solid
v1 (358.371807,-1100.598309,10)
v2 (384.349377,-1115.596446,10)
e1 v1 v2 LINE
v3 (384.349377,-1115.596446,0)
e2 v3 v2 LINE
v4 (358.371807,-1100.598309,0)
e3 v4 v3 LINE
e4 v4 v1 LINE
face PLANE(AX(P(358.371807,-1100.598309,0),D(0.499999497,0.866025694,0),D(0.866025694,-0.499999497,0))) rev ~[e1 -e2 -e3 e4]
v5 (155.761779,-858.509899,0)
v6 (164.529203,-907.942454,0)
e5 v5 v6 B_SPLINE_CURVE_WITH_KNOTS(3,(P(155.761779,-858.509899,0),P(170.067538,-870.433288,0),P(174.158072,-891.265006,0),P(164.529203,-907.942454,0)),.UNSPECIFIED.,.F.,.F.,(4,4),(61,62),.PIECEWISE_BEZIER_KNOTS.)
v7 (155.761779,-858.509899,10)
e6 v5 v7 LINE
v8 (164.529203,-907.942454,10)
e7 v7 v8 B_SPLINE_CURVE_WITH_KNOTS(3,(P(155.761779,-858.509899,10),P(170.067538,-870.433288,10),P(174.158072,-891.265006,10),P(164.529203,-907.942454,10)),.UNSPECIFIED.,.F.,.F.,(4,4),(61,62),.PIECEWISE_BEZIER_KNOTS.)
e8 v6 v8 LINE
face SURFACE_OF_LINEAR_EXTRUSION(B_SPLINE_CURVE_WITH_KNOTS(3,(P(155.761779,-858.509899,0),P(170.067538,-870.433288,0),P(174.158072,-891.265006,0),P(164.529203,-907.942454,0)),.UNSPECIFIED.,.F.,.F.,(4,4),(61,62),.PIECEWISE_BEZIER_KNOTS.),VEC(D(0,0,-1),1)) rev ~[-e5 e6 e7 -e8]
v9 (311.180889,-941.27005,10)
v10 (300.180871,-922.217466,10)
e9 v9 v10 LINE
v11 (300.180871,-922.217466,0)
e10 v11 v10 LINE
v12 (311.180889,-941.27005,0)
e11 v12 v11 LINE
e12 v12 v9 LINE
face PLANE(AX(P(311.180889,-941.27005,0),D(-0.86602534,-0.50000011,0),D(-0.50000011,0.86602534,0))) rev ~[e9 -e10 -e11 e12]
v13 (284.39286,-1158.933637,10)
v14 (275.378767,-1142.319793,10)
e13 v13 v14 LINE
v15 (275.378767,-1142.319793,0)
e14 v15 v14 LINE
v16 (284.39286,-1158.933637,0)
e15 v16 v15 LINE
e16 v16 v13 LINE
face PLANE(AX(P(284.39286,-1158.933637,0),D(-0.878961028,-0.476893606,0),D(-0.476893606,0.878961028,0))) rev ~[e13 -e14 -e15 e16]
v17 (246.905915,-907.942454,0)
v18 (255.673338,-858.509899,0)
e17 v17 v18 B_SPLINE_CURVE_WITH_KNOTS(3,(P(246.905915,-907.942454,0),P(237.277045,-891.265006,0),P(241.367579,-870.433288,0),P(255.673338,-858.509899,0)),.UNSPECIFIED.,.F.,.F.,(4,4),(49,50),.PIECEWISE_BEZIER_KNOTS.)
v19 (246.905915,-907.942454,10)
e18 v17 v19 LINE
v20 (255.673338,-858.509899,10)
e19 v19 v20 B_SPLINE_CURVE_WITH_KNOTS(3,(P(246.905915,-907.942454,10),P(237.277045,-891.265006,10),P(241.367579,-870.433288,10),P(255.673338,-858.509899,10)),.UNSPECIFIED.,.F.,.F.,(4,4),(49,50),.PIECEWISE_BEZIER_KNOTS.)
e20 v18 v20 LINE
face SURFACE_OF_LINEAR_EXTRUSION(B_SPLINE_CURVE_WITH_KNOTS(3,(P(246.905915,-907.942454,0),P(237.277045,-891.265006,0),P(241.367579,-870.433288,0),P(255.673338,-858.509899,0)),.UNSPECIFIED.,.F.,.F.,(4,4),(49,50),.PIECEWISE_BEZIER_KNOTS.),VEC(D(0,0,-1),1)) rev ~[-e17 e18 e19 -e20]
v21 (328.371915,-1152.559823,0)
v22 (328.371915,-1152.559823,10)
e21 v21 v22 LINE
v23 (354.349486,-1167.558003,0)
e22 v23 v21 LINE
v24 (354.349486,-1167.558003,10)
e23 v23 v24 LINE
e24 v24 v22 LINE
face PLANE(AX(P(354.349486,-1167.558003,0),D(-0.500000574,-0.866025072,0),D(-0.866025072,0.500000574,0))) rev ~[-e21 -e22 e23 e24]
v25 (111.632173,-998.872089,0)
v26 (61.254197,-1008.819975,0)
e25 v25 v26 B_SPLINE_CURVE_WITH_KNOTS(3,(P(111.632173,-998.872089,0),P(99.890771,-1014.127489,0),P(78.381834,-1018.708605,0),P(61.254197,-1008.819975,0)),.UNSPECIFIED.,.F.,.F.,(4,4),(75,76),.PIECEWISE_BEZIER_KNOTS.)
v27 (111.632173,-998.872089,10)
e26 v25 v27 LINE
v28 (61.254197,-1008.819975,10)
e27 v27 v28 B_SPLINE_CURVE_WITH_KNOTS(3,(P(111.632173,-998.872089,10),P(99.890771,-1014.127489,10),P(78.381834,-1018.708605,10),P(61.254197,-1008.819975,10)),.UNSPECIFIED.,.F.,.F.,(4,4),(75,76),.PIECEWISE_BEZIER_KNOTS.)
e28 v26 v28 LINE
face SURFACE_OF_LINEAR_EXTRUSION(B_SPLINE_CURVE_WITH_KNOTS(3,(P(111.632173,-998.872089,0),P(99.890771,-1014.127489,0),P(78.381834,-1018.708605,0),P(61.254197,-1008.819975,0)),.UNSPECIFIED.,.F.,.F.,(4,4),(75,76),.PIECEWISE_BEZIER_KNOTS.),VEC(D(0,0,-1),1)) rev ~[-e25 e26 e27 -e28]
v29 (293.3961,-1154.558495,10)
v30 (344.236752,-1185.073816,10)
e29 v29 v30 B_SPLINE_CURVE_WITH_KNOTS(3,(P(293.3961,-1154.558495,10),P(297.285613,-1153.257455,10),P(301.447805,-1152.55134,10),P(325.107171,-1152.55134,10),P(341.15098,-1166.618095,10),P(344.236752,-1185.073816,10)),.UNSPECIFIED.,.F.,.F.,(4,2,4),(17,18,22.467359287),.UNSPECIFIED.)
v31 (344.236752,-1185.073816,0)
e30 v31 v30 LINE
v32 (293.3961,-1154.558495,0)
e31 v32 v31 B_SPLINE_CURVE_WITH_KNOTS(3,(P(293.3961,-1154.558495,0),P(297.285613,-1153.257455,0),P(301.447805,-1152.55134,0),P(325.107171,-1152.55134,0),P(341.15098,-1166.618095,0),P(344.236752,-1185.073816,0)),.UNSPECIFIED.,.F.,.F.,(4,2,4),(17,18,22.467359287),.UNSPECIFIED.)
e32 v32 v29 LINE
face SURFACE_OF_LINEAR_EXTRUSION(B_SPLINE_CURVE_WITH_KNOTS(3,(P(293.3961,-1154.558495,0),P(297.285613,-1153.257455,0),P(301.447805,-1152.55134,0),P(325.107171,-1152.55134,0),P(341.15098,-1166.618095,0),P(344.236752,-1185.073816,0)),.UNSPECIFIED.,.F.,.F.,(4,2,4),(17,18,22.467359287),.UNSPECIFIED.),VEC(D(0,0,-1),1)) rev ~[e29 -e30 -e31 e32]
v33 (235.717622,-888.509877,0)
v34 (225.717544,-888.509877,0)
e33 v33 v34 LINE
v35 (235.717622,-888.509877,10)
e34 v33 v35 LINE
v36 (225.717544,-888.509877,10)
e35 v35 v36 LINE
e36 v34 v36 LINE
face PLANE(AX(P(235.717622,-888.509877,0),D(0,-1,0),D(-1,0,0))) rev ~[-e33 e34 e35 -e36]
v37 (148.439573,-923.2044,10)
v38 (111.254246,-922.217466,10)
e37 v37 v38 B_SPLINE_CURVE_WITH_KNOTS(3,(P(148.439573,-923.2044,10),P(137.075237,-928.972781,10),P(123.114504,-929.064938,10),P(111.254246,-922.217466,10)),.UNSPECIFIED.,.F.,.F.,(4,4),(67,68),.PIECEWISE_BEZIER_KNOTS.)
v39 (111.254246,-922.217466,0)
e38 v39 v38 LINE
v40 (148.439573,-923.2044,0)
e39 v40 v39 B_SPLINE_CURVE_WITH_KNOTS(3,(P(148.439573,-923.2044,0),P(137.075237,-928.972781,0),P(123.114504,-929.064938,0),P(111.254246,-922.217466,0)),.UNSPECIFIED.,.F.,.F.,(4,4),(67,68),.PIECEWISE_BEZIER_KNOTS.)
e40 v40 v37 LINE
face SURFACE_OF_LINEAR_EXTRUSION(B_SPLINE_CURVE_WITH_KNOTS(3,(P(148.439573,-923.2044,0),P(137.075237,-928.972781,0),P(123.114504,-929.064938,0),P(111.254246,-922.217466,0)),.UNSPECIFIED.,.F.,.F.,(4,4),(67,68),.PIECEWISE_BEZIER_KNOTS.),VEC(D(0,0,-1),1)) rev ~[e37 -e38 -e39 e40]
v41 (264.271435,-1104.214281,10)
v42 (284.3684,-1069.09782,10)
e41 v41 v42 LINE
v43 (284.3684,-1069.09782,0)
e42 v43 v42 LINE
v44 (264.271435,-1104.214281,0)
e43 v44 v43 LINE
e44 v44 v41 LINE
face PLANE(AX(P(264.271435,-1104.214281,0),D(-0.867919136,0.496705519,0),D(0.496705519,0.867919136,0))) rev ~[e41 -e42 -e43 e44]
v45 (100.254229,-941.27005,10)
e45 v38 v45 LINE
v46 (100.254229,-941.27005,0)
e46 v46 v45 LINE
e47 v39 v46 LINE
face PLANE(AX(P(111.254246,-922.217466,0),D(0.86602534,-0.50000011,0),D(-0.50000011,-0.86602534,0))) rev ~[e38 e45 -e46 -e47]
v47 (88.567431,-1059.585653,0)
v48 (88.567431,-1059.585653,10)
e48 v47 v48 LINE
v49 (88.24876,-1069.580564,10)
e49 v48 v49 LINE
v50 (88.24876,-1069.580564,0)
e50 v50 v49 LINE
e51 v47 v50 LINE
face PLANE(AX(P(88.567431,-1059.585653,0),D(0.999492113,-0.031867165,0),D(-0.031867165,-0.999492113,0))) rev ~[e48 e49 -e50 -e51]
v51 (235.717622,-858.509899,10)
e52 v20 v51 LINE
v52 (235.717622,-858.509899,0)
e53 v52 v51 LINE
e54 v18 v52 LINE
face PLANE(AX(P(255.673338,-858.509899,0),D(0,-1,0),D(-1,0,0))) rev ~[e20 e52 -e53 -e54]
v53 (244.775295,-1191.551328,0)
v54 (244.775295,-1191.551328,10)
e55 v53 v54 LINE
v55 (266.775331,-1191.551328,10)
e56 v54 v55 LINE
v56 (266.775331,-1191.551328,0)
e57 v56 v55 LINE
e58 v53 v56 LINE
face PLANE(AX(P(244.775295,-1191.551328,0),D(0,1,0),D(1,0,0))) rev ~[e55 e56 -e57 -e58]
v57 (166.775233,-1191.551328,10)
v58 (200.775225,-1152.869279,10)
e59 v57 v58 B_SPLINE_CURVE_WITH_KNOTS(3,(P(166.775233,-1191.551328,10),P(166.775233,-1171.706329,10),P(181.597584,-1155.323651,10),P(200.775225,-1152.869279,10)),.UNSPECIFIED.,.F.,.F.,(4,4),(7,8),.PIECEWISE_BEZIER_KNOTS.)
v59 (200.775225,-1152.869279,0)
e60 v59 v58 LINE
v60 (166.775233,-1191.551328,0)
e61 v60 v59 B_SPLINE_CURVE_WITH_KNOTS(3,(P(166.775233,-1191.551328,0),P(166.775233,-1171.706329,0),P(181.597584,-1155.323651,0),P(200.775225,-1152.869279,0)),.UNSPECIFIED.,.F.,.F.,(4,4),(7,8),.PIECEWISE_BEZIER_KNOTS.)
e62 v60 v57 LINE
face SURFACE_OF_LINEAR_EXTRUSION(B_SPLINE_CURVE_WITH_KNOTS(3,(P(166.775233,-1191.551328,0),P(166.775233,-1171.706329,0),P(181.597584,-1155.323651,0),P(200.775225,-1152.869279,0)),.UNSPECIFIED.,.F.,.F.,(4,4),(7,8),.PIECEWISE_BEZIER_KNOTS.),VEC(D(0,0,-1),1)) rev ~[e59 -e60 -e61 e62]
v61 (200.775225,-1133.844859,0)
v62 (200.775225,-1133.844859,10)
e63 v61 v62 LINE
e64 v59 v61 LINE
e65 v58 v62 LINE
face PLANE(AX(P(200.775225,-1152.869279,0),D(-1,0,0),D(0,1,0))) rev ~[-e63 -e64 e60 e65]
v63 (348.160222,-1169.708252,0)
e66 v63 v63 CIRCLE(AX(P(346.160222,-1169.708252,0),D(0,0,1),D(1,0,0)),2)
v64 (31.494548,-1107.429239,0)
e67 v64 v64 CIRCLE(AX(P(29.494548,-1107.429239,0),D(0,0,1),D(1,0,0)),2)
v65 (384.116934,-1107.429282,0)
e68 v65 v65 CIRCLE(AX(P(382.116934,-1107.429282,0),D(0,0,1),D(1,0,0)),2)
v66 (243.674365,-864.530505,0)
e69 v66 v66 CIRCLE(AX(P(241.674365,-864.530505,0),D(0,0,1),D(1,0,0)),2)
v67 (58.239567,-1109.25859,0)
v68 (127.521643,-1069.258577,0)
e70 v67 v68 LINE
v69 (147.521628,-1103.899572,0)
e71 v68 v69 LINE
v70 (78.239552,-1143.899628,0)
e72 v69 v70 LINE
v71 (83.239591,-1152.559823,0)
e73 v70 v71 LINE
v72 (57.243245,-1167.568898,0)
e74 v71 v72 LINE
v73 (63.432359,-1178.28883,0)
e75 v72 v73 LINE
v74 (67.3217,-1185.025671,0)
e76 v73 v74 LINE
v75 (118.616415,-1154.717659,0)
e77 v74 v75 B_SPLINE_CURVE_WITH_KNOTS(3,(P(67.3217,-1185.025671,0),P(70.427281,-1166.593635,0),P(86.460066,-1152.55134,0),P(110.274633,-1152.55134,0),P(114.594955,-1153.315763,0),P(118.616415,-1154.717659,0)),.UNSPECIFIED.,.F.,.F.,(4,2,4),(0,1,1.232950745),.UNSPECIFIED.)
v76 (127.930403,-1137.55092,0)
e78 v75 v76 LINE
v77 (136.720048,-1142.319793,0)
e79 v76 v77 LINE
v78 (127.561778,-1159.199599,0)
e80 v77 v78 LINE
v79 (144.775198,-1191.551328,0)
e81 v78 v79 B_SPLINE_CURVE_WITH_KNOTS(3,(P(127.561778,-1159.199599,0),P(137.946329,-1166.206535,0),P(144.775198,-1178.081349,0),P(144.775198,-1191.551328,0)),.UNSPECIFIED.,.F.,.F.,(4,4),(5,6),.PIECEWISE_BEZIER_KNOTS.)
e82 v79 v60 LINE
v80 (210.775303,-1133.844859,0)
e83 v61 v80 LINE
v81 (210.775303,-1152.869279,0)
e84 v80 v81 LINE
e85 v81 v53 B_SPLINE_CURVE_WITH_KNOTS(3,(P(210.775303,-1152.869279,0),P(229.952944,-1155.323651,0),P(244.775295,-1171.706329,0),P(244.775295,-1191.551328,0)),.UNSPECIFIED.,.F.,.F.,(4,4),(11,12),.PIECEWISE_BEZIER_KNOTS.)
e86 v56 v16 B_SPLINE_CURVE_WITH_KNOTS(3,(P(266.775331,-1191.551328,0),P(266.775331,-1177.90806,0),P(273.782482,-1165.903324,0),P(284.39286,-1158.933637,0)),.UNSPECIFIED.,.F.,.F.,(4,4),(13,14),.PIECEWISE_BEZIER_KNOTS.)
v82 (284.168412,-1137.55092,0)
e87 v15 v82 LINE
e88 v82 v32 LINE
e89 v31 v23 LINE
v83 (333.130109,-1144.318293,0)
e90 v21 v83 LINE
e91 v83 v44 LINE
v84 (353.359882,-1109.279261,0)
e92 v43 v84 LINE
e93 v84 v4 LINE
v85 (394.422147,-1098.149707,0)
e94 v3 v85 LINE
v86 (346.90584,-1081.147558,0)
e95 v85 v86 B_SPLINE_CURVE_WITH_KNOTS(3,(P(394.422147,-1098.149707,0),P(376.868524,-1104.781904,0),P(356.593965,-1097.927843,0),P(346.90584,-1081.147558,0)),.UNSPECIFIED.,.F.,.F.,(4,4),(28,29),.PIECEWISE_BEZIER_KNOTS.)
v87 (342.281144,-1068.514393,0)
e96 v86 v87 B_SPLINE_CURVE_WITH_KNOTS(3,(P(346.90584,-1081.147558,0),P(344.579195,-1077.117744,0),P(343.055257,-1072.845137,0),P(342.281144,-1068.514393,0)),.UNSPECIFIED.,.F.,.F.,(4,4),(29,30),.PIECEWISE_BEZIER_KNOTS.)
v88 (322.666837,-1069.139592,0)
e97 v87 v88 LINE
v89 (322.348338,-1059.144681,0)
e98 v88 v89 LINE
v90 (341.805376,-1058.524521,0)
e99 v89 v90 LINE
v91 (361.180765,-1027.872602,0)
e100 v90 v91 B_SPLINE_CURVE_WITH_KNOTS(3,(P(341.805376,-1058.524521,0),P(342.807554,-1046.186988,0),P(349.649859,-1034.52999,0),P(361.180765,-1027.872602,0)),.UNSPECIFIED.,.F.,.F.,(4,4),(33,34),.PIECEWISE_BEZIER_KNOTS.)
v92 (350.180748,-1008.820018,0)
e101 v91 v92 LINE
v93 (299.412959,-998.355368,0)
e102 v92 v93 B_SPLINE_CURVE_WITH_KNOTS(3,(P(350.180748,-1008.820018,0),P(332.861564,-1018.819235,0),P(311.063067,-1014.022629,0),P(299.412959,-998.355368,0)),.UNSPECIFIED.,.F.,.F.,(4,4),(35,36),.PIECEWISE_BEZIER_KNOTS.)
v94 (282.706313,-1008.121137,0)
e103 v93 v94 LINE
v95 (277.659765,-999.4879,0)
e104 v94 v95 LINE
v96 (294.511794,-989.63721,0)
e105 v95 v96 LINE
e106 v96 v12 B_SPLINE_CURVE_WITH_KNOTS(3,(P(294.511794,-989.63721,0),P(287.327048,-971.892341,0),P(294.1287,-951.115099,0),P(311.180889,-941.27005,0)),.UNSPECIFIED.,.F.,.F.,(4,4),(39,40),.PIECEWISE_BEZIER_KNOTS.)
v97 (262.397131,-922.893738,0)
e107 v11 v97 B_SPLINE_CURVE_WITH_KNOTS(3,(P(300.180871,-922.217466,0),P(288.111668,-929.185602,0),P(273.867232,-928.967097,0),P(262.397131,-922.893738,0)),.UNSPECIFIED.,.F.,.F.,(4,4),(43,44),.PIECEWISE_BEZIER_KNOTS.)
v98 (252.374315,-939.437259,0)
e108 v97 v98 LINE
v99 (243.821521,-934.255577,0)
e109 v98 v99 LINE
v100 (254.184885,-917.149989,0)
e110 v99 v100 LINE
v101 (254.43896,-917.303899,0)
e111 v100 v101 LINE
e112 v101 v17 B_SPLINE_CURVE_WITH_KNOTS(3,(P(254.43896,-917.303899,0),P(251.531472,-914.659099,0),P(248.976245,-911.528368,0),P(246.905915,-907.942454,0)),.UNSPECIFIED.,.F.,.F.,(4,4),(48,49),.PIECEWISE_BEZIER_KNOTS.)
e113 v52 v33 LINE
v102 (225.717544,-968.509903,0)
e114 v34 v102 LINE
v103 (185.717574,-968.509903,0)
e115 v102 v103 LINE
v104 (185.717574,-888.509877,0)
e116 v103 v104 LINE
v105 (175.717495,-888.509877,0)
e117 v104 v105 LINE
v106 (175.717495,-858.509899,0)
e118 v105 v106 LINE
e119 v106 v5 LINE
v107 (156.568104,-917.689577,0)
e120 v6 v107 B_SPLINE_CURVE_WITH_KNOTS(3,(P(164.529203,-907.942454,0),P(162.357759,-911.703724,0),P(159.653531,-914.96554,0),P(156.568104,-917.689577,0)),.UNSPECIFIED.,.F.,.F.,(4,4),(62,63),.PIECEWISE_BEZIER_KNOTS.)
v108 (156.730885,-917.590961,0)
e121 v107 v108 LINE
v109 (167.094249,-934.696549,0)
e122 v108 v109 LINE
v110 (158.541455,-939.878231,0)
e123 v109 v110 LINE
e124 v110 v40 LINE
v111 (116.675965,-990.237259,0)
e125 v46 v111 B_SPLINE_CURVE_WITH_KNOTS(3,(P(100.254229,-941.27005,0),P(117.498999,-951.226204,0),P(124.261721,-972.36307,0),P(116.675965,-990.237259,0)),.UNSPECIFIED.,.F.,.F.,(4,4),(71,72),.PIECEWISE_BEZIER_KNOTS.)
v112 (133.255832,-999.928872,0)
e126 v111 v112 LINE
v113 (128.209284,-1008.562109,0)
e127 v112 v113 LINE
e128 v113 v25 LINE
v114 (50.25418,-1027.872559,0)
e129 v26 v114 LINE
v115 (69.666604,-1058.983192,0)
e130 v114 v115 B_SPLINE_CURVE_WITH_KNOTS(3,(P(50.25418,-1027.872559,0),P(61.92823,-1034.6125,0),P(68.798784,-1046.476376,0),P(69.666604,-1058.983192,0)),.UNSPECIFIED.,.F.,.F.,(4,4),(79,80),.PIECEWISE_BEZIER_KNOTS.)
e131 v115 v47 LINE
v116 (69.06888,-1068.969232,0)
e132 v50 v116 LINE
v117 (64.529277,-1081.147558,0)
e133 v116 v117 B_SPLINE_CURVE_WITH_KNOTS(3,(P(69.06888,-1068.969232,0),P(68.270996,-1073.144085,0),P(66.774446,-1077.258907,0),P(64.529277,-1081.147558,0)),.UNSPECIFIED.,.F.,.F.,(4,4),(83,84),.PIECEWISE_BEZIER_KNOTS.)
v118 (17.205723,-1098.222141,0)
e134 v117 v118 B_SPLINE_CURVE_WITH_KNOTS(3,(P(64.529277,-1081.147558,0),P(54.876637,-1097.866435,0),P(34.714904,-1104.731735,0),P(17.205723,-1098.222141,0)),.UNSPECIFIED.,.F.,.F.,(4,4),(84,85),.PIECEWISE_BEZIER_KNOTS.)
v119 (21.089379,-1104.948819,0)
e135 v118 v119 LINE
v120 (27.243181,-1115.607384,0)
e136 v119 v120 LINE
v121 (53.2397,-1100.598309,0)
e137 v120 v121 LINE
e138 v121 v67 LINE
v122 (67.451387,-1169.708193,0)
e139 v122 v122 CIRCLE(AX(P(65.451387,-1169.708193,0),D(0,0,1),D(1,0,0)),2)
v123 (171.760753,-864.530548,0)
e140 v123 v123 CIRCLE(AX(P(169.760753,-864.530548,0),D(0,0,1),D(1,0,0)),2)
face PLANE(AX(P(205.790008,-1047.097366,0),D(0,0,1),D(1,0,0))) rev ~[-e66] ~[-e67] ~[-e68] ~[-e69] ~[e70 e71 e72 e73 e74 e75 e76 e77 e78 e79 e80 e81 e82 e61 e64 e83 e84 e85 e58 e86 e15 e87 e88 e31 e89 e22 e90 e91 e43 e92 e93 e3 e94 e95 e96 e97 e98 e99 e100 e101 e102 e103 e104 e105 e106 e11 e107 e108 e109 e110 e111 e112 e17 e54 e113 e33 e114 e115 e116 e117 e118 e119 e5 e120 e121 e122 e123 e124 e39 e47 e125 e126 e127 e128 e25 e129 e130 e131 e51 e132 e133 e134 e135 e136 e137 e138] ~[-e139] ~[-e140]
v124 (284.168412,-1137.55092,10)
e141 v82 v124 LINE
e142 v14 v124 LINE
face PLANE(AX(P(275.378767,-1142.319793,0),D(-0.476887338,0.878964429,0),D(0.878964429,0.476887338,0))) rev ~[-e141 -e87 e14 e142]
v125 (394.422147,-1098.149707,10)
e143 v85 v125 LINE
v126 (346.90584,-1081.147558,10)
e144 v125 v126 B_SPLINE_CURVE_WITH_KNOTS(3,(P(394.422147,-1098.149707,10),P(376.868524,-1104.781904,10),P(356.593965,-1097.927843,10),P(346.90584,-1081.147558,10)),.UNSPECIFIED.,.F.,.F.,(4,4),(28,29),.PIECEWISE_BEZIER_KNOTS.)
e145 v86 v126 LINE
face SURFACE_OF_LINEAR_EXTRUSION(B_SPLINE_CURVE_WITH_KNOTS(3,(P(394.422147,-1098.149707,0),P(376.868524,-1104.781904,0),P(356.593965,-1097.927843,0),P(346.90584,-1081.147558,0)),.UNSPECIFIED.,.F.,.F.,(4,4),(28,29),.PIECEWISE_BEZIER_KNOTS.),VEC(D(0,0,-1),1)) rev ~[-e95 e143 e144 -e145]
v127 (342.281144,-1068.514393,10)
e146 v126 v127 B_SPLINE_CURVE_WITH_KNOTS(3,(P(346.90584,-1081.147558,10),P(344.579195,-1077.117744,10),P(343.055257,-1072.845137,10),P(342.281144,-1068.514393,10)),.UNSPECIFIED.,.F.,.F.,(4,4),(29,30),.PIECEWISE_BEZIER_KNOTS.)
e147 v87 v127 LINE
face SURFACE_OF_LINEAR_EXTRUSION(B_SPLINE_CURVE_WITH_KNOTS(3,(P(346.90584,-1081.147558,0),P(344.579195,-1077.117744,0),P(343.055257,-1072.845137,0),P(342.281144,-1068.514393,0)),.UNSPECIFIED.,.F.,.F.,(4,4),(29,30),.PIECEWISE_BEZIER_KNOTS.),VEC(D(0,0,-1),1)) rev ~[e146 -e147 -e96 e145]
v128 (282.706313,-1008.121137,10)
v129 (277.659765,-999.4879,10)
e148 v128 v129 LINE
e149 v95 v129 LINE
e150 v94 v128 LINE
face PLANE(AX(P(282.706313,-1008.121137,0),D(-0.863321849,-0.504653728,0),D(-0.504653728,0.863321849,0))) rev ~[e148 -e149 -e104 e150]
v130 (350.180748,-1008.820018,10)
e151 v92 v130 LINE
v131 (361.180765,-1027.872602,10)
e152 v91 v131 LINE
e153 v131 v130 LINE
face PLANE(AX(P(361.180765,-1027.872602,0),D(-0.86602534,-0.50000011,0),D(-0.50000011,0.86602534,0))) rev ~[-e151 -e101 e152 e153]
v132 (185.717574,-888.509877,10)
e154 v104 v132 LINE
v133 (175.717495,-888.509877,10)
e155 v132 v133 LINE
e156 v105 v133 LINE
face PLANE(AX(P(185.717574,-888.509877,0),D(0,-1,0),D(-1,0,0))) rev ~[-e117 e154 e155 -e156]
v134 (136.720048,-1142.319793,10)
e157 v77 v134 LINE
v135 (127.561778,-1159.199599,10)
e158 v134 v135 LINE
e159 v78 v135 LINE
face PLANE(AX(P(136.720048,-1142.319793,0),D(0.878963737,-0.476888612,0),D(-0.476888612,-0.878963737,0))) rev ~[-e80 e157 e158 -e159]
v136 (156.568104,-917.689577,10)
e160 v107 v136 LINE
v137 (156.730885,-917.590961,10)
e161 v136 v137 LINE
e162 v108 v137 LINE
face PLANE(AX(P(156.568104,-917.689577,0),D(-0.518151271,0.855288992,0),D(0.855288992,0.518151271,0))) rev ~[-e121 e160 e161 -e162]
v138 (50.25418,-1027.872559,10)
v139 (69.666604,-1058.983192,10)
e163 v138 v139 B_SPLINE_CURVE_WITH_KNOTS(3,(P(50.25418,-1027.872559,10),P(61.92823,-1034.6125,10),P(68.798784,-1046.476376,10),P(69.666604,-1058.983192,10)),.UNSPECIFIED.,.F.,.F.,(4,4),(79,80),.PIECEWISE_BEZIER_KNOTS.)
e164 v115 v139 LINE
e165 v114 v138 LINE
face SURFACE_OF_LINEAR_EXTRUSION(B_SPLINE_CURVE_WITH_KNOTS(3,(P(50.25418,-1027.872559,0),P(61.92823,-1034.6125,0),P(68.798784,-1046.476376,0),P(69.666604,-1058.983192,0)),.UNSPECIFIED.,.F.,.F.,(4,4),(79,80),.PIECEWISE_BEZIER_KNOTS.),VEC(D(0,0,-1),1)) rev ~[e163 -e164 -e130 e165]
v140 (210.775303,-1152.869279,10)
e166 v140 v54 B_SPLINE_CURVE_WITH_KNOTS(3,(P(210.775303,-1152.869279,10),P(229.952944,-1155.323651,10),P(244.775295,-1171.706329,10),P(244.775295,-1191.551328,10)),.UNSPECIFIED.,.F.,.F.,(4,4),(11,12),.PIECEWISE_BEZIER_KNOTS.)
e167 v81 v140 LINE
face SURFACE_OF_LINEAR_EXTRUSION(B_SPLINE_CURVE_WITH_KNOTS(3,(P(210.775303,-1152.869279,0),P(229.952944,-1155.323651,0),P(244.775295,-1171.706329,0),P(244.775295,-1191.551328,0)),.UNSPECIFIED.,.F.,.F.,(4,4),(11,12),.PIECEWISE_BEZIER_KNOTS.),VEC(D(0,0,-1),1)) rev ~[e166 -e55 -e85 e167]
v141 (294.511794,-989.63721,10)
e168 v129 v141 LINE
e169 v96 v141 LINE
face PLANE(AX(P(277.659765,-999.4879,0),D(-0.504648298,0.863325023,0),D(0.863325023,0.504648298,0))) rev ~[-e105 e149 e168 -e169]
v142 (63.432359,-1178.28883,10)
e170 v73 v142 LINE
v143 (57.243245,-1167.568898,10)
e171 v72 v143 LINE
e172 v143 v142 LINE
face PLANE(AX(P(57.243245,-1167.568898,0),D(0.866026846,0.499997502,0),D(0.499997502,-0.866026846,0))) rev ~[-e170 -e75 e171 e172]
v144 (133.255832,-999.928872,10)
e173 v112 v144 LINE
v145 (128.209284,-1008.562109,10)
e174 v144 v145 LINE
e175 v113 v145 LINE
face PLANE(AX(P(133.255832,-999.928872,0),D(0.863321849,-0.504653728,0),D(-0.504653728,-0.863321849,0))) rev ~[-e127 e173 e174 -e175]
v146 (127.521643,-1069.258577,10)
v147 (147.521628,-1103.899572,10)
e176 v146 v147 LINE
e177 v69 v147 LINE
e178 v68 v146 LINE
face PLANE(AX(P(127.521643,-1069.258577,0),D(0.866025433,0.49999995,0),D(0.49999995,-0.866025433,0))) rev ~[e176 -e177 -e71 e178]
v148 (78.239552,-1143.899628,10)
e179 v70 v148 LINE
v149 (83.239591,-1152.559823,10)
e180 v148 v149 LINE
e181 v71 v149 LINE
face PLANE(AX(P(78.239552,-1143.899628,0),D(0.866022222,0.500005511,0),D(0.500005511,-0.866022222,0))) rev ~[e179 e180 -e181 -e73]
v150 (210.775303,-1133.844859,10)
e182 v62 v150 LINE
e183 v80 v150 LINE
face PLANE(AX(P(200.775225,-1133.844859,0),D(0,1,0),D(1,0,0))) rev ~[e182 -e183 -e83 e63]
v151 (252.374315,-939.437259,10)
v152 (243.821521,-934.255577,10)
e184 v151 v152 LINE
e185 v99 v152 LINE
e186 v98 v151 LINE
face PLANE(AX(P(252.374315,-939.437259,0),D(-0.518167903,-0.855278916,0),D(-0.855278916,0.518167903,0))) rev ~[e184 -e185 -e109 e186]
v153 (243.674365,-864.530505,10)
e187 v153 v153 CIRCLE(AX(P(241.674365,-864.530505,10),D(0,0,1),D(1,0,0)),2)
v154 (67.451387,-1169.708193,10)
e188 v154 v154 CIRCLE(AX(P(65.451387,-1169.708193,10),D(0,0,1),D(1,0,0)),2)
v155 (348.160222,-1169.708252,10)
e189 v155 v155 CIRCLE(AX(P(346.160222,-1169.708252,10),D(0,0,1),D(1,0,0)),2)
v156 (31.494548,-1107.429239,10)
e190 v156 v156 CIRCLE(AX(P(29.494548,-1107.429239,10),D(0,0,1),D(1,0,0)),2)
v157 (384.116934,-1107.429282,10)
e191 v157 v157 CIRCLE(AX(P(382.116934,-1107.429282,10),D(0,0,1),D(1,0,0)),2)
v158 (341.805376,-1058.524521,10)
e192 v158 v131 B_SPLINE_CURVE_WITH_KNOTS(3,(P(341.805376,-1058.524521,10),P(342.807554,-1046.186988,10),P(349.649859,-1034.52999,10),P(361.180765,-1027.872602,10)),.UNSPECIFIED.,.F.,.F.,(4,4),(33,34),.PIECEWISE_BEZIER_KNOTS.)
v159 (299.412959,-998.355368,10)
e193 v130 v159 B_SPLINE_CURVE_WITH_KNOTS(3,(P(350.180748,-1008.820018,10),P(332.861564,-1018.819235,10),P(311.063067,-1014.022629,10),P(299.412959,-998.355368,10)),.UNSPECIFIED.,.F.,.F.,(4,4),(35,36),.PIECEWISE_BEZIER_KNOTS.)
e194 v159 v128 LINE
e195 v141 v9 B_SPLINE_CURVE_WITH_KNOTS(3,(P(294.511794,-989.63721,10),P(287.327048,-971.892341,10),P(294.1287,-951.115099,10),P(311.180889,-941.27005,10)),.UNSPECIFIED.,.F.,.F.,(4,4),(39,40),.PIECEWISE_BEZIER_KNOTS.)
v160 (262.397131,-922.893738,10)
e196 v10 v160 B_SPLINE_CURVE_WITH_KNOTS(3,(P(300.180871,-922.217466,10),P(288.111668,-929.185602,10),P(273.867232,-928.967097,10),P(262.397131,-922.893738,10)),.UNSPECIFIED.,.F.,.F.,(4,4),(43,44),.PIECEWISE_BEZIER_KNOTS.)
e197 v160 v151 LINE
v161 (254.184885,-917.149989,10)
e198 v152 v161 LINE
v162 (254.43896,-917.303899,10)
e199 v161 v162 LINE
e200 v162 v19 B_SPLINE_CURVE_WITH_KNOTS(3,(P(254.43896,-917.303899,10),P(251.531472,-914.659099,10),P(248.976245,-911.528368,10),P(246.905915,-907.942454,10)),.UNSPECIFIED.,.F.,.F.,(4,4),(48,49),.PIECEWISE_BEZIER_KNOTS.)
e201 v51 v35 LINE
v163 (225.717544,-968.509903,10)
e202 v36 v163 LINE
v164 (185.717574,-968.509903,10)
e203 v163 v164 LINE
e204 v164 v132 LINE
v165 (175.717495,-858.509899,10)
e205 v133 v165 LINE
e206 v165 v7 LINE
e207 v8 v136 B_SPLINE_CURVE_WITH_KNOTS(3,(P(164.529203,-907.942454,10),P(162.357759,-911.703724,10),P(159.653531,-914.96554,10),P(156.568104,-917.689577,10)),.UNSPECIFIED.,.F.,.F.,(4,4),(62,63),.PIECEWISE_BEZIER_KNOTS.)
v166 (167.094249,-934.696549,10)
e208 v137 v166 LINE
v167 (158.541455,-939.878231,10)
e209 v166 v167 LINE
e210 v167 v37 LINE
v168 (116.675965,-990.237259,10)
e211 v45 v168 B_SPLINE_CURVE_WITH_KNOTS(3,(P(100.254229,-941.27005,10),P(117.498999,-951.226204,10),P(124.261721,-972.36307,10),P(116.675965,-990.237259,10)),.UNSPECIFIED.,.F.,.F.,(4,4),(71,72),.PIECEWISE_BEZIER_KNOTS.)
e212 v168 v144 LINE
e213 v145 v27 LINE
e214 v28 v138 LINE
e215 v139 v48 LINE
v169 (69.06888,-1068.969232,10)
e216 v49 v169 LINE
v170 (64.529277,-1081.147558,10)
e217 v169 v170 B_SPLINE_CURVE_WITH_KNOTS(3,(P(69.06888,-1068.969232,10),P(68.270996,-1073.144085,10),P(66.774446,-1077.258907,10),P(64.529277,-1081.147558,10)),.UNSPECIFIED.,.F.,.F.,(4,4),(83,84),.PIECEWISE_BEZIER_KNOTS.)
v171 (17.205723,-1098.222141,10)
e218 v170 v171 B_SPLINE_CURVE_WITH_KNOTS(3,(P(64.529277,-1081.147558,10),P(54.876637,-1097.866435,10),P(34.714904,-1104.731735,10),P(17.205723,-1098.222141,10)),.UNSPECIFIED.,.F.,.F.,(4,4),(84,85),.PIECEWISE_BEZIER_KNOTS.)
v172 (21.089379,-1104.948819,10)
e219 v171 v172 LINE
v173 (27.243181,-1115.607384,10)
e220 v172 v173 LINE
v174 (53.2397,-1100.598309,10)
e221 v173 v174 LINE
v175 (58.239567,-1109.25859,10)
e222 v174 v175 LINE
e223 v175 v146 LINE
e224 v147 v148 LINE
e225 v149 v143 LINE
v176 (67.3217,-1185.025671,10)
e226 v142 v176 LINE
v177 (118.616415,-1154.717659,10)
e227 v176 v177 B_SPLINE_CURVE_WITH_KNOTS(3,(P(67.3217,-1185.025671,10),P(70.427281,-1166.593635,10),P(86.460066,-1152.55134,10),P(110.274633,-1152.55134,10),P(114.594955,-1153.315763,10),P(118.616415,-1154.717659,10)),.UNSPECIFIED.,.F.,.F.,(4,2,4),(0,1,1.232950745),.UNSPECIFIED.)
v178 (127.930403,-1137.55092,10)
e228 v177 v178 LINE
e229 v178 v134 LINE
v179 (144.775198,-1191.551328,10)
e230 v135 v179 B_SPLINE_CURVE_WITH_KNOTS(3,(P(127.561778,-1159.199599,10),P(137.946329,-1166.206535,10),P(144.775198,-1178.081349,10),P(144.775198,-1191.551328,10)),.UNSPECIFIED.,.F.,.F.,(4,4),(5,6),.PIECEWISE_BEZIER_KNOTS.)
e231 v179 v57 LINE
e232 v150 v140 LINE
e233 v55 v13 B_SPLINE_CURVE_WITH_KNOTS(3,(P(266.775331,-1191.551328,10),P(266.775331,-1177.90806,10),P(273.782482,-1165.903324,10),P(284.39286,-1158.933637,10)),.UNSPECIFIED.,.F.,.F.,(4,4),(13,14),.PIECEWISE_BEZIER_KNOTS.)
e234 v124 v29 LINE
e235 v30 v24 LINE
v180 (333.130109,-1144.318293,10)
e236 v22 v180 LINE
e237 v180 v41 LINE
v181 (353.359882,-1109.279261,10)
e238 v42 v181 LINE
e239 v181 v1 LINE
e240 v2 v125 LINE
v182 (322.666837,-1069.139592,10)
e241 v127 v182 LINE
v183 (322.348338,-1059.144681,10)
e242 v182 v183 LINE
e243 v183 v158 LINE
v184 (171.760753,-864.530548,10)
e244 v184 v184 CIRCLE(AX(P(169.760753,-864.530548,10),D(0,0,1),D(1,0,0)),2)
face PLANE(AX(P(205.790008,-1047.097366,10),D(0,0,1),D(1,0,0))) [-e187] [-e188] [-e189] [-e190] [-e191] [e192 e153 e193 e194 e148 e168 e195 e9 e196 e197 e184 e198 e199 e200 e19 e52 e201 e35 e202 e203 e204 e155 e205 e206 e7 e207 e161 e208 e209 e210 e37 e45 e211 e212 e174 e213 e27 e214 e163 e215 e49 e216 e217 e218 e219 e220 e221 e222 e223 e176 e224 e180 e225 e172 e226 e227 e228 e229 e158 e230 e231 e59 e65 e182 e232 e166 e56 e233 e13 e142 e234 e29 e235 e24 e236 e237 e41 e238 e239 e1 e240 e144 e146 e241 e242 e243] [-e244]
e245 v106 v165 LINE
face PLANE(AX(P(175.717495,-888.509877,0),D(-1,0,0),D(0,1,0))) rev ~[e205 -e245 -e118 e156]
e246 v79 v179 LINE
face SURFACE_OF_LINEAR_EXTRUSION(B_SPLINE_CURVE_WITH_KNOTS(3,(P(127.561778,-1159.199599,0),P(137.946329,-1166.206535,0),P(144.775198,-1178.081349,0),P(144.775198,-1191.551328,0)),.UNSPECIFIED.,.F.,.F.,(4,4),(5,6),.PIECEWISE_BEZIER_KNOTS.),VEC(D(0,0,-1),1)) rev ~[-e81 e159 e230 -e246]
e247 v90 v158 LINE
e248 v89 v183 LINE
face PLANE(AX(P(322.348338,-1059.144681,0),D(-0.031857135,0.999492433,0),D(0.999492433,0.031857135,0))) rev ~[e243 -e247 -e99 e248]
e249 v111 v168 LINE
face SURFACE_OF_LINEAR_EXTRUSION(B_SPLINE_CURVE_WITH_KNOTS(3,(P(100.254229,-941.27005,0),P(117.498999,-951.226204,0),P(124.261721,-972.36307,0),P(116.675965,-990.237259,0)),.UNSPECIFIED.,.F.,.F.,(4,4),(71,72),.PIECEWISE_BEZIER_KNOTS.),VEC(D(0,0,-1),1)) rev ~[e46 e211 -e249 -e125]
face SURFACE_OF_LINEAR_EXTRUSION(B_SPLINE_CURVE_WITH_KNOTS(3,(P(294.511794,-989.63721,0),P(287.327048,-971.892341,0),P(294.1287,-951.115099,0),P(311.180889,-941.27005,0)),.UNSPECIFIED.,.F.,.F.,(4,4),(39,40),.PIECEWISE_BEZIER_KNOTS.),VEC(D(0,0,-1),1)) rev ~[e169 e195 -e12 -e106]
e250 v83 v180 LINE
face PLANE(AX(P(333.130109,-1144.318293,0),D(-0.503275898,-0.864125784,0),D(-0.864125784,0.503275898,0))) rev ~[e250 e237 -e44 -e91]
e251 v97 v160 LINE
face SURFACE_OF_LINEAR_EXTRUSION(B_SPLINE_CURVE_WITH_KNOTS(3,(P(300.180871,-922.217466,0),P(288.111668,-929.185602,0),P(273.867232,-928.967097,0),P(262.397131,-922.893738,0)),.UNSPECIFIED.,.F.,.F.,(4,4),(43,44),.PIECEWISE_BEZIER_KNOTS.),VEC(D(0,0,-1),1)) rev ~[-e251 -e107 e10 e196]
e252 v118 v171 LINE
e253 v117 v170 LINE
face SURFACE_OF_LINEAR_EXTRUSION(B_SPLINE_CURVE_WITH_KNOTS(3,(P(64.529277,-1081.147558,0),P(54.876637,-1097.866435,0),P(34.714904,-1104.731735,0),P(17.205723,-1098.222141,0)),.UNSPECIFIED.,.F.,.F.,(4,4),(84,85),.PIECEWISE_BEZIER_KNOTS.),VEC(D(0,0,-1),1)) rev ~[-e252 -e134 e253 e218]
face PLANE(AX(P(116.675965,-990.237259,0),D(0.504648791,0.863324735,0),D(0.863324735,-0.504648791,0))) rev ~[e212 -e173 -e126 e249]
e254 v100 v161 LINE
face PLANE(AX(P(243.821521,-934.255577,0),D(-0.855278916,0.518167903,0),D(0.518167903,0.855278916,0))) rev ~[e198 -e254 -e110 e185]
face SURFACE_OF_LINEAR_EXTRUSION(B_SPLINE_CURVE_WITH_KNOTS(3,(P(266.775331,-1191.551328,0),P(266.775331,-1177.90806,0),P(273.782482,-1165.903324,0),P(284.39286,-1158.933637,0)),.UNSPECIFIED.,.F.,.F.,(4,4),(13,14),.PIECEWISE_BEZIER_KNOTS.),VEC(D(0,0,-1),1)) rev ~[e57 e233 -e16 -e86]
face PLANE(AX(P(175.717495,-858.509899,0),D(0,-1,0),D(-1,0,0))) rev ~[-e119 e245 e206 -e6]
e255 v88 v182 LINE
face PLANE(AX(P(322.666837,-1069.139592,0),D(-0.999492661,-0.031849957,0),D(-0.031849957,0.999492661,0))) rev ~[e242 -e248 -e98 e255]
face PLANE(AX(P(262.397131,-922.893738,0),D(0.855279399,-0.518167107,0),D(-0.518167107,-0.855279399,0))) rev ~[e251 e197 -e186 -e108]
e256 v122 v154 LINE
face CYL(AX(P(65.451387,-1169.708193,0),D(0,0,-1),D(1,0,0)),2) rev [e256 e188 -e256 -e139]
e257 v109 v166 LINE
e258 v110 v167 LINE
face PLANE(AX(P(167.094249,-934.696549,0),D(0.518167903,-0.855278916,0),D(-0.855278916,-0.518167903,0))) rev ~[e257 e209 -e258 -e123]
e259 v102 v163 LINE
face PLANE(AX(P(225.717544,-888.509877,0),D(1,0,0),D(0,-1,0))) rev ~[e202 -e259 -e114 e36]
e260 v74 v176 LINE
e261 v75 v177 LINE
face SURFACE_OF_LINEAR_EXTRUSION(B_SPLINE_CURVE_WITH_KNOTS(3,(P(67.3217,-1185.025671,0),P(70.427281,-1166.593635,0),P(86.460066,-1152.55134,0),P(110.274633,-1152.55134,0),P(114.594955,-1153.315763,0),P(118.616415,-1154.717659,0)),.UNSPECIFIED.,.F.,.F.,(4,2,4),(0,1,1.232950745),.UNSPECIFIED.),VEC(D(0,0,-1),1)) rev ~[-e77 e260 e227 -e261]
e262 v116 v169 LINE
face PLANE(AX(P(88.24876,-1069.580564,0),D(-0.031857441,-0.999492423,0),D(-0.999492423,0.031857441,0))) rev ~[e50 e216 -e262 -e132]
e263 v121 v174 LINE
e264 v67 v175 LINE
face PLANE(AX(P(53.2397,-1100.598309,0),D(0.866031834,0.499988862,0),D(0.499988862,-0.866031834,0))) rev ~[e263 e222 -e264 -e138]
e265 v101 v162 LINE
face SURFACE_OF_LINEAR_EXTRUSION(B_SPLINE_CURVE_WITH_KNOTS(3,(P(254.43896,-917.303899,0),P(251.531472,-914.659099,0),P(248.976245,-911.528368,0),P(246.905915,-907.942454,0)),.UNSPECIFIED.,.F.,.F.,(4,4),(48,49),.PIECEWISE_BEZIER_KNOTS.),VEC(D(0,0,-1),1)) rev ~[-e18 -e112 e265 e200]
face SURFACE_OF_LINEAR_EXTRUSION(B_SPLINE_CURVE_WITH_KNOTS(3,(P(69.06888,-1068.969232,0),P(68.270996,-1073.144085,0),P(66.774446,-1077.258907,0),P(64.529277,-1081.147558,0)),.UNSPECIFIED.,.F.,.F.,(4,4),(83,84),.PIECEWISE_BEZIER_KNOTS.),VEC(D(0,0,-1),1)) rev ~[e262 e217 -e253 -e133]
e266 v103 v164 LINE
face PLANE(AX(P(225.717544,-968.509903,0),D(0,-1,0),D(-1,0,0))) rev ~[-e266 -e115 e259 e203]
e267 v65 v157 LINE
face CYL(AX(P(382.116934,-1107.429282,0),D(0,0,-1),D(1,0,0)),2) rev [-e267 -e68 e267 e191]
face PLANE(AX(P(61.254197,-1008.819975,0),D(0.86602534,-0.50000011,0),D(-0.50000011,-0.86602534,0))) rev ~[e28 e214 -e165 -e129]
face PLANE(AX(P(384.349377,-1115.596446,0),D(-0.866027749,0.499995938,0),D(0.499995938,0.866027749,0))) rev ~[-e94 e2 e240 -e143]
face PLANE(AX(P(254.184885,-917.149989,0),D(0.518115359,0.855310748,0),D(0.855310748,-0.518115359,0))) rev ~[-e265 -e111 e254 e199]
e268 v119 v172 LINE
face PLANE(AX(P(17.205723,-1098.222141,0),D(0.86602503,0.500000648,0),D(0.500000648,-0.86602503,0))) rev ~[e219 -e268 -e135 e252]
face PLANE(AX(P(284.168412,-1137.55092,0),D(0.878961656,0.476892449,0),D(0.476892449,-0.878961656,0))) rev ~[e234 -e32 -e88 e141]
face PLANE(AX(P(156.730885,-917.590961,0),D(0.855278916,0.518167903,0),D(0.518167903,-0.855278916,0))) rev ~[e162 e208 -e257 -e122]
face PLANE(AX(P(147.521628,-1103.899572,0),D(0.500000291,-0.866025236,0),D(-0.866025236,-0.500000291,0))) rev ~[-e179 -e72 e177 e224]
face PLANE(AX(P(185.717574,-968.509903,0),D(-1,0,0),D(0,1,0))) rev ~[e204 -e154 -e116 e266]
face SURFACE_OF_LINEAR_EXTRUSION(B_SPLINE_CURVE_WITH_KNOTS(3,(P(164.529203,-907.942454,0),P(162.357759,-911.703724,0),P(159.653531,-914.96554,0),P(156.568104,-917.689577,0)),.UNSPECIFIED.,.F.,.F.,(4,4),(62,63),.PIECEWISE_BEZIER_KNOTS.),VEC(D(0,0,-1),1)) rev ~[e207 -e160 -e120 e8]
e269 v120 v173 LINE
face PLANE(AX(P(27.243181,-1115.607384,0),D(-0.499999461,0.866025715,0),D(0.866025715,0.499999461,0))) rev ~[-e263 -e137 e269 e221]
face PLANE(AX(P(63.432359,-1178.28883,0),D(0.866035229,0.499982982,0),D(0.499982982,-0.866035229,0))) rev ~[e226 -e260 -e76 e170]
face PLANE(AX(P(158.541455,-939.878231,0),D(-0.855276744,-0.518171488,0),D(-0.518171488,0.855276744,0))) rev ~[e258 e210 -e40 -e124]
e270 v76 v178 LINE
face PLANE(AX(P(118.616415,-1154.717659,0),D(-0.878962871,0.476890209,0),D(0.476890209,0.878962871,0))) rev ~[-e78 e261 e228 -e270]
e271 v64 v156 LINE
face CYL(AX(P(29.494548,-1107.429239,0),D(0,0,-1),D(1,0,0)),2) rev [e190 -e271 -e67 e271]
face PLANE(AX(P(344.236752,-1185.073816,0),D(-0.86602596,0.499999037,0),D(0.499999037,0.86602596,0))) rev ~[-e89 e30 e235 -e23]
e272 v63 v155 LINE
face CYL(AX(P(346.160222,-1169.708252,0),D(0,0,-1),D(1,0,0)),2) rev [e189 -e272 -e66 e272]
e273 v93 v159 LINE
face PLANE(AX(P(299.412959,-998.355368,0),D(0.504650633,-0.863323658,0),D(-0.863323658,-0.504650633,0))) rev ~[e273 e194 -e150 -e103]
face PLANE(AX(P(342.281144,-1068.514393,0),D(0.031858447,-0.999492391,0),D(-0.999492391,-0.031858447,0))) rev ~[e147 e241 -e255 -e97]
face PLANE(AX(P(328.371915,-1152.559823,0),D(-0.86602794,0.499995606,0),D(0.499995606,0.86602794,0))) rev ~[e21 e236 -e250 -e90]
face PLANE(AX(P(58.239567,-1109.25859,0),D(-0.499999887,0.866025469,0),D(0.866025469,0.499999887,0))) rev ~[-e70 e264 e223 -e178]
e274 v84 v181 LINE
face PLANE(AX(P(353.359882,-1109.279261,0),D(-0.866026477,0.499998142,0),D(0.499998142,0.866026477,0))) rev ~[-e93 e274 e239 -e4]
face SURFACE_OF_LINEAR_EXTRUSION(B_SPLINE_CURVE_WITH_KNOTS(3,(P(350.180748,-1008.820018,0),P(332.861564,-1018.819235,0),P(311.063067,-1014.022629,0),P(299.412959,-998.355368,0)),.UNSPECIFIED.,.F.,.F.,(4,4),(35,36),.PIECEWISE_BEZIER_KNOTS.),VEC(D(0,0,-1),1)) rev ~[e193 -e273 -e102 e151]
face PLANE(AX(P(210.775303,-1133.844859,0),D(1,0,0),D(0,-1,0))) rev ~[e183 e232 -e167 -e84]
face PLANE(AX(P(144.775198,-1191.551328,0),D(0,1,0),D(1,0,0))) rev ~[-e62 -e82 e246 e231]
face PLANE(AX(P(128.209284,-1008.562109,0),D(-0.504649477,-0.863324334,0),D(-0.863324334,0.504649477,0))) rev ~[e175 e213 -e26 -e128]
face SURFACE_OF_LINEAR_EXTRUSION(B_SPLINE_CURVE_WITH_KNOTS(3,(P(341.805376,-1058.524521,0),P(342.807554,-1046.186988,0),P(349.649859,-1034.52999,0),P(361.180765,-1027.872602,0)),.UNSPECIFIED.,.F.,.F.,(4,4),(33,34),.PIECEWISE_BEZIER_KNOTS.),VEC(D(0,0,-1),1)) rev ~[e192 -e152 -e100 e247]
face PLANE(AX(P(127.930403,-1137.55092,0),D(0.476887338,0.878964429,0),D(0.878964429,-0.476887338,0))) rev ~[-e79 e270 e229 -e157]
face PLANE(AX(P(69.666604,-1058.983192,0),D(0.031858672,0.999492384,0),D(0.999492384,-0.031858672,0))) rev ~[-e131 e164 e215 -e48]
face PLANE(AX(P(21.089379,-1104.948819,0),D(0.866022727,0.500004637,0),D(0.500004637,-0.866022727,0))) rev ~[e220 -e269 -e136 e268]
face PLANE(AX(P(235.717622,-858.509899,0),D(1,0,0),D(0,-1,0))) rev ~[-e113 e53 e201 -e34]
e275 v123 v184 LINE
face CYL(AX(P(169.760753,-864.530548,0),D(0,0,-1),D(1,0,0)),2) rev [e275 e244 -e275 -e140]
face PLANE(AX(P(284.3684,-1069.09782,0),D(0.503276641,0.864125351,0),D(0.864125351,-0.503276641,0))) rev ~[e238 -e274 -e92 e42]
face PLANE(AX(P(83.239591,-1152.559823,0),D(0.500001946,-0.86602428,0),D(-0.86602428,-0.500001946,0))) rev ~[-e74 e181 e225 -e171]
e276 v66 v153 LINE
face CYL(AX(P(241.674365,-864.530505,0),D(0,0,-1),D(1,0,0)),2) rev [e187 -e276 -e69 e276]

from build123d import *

# Parameters (mm, degrees)
MODEL_R            = 2
BOSS_EXTRU_1_DEPTH = 10


with BuildPart() as part:
    # Model → Boss.-Extru.1 (new body)
    with BuildSketch(Plane.XY):
        with BuildLine():
            Line((118.61641531, -1154.71765861), (127.930403211, -1137.550920057))
            Line((127.930403211, -1137.550920057), (136.72004758, -1142.319793484))
            Line((136.72004758, -1142.319793484), (127.561777994, -1159.199598646))
            add(Edge.make_bspline(
                [(127.561777994, -1159.199598646), (137.946329318, -1166.206535292), (144.775197591, -1178.081348795), (144.775197591, -1191.551327637)],
                knots=[5, 5, 5, 5, 6, 6, 6, 6], degree=3))
            Line((144.775197591, -1191.551327637), (166.775232855, -1191.551327637))
            add(Edge.make_bspline(
                [(166.775232855, -1191.551327637), (166.775232855, -1171.706328789), (181.59758393, -1155.323650906), (200.775224717, -1152.869278754)],
                knots=[7, 7, 7, 7, 8, 8, 8, 8], degree=3))
            Line((200.775224717, -1152.869278754), (200.775224717, -1133.844858588))
            Line((200.775224717, -1133.844858588), (210.775303385, -1133.844858588))
            Line((210.775303385, -1133.844858588), (210.775303385, -1152.869278754))
            add(Edge.make_bspline(
                [(210.775303385, -1152.869278754), (229.952944173, -1155.323650906), (244.775295247, -1171.706328789), (244.775295247, -1191.551327637)],
                knots=[11, 11, 11, 11, 12, 12, 12, 12], degree=3))
            Line((244.775295247, -1191.551327637), (266.775330512, -1191.551327637))
            add(Edge.make_bspline(
                [(266.775330512, -1191.551327637), (266.775330512, -1177.908060492), (273.782482476, -1165.903323825), (284.392859809, -1158.933637275)],
                knots=[13, 13, 13, 13, 14, 14, 14, 14], degree=3))
            Line((284.392859809, -1158.933637275), (275.378767469, -1142.319793484))
            Line((275.378767469, -1142.319793484), (284.168411838, -1137.550920057))
            Line((284.168411838, -1137.550920057), (293.396100097, -1154.558495198))
            add(Edge.make_bspline(
                [(293.396100097, -1154.558495198), (297.285612901, -1153.257454888), (301.447805013, -1152.551339504), (305.775189453, -1152.551339504)],
                knots=[17, 17, 17, 17, 18, 18, 18, 18], degree=3))
            add(Edge.make_bspline(
                [(305.775189453, -1152.551339504), (325.107170518, -1152.551339504), (341.150980197, -1166.618095011), (344.236752224, -1185.07381604)],
                knots=[18, 18, 18, 18, 19, 19, 19, 19], degree=3))
            Line((344.236752224, -1185.07381604), (354.349485514, -1167.558003187))
            Line((354.349485514, -1167.558003187), (328.371915256, -1152.559823052))
            Line((328.371915256, -1152.559823052), (333.130108886, -1144.318293375))
            Line((333.130108886, -1144.318293375), (264.271435112, -1104.214281331))
            Line((264.271435112, -1104.214281331), (284.368399631, -1069.09782015))
            Line((284.368399631, -1069.09782015), (353.359881836, -1109.279260715))
            Line((353.359881836, -1109.279260715), (358.371806749, -1100.598309109))
            Line((358.371806749, -1100.598309109), (384.349377007, -1115.59644618))
            Line((384.349377007, -1115.59644618), (394.422147189, -1098.149707492))
            add(Edge.make_bspline(
                [(394.422147189, -1098.149707492), (376.868524414, -1104.781903876), (356.593965223, -1097.927843343), (346.905839952, -1081.147558377)],
                knots=[28, 28, 28, 28, 29, 29, 29, 29], degree=3))
            add(Edge.make_bspline(
                [(346.905839952, -1081.147558377), (344.579194715, -1077.117744059), (343.055256727, -1072.845136637), (342.281143771, -1068.514393229)],
                knots=[29, 29, 29, 29, 30, 30, 30, 30], degree=3))
            Line((342.281143771, -1068.514393229), (322.666837131, -1069.139591932))
            Line((322.666837131, -1069.139591932), (322.348338053, -1059.144680908))
            Line((322.348338053, -1059.144680908), (341.805376085, -1058.524520657))
            add(Edge.make_bspline(
                [(341.805376085, -1058.524520657), (342.807554362, -1046.186987766), (349.649858507, -1034.529990424), (361.180765353, -1027.872601779)],
                knots=[33, 33, 33, 33, 34, 34, 34, 34], degree=3))
            Line((361.180765353, -1027.872601779), (350.180747721, -1008.820017958))
            add(Edge.make_bspline(
                [(350.180747721, -1008.820017958), (332.861563693, -1018.819235351), (311.063066514, -1014.022628906), (299.412959364, -998.355368164)],
                knots=[35, 35, 35, 35, 36, 36, 36, 36], degree=3))
            Line((299.412959364, -998.355368164), (282.706313313, -1008.121137275))
            Line((282.706313313, -1008.121137275), (277.659765191, -999.487900241))
            Line((277.659765191, -999.487900241), (294.51179427, -989.637209527))
            add(Edge.make_bspline(
                [(294.51179427, -989.637209527), (287.327047634, -971.892340888), (294.128699652, -951.115099202), (311.18088878, -941.270049832)],
                knots=[39, 39, 39, 39, 40, 40, 40, 40], degree=3))
            Line((311.18088878, -941.270049832), (300.180871148, -922.21746601))
            add(Edge.make_bspline(
                [(300.180871148, -922.21746601), (288.111668131, -929.185602268), (273.867231825, -928.967097086), (262.397130913, -922.893738254)],
                knots=[43, 43, 43, 43, 44, 44, 44, 44], degree=3))
            Line((262.397130913, -922.893738254), (252.374314615, -939.437259033))
            Line((252.374314615, -939.437259033), (243.821520562, -934.25557704))
            Line((243.821520562, -934.25557704), (254.184884548, -917.149988932))
            Line((254.184884548, -917.149988932), (254.43896034, -917.303898573))
            add(Edge.make_bspline(
                [(254.43896034, -917.303898573), (251.531472005, -914.659098768), (248.976244683, -911.528368245), (246.90591455, -907.942454481)],
                knots=[48, 48, 48, 48, 49, 49, 49, 49], degree=3))
            add(Edge.make_bspline(
                [(246.90591455, -907.942454481), (237.277044921, -891.265005615), (241.367579047, -870.433288357), (255.673338053, -858.509899007)],
                knots=[49, 49, 49, 49, 50, 50, 50, 50], degree=3))
            Line((255.673338053, -858.509899007), (247.962525336, -858.509899007))
            Line((247.962525336, -858.509899007), (235.71762245, -858.509899007))
            Line((235.71762245, -858.509899007), (235.71762245, -888.509876627))
            Line((235.71762245, -888.509876627), (225.717543782, -888.509876627))
            Line((225.717543782, -888.509876627), (225.717543782, -968.509903076))
            Line((225.717543782, -968.509903076), (185.717573622, -968.509903076))
            Line((185.717573622, -968.509903076), (185.717573622, -888.509876627))
            Line((185.717573622, -888.509876627), (175.717494954, -888.509876627))
            Line((175.717494954, -888.509876627), (175.717494954, -858.509899007))
            Line((175.717494954, -858.509899007), (163.472592068, -858.509899007))
            Line((163.472592068, -858.509899007), (155.761779351, -858.509899007))
            add(Edge.make_bspline(
                [(155.761779351, -858.509899007), (170.067538357, -870.433288357), (174.158072482, -891.265005615), (164.529202853, -907.942454481)],
                knots=[61, 61, 61, 61, 62, 62, 62, 62], degree=3))
            add(Edge.make_bspline(
                [(164.529202853, -907.942454481), (162.357759168, -911.703723605), (159.653531467, -914.965540012), (156.568103949, -917.689577013)],
                knots=[62, 62, 62, 62, 63, 63, 63, 63], degree=3))
            Line((156.568103949, -917.689577013), (156.730884711, -917.590961154))
            Line((156.730884711, -917.590961154), (167.094248697, -934.696549262))
            Line((167.094248697, -934.696549262), (158.541454644, -939.878231255))
            Line((158.541454644, -939.878231255), (148.439573405, -923.204399739))
            add(Edge.make_bspline(
                [(148.439573405, -923.204399739), (137.075236924, -928.972781494), (123.114504231, -929.064937798), (111.254246256, -922.21746601)],
                knots=[67, 67, 67, 67, 68, 68, 68, 68], degree=3))
            Line((111.254246256, -922.21746601), (100.254228624, -941.270049832))
            add(Edge.make_bspline(
                [(100.254228624, -941.270049832), (117.498998589, -951.226203532), (124.261721028, -972.363070122), (116.675965277, -990.237259033)],
                knots=[71, 71, 71, 71, 72, 72, 72, 72], degree=3))
            Line((116.675965277, -990.237259033), (133.255831814, -999.928872463))
            Line((133.255831814, -999.928872463), (128.209283691, -1008.562109497))
            Line((128.209283691, -1008.562109497), (111.632173231, -998.872089423))
            add(Edge.make_bspline(
                [(111.632173231, -998.872089423), (99.89077105, -1014.127489), (78.381834147, -1018.708604723), (61.254197428, -1008.819974894)],
                knots=[75, 75, 75, 75, 76, 76, 76, 76], degree=3))
            Line((61.254197428, -1008.819974894), (50.254179796, -1027.872558716))
            add(Edge.make_bspline(
                [(50.254179796, -1027.872558716), (61.92823036, -1034.612500461), (68.798784288, -1046.476375786), (69.666603841, -1058.983192057)],
                knots=[79, 79, 79, 79, 80, 80, 80, 80], degree=3))
            Line((69.666603841, -1058.983192057), (88.567431206, -1059.58565313))
            Line((88.567431206, -1059.58565313), (88.248759874, -1069.580564155))
            Line((88.248759874, -1069.580564155), (69.068879774, -1068.969231961))
            add(Edge.make_bspline(
                [(69.068879774, -1068.969231961), (68.270995659, -1073.144084798), (66.77444618, -1077.258906847), (64.529277452, -1081.147558377)],
                knots=[83, 83, 83, 83, 84, 84, 84, 84], degree=3))
            add(Edge.make_bspline(
                [(64.529277452, -1081.147558377), (54.876636664, -1097.866434516), (34.714904351, -1104.731734673), (17.205723307, -1098.222140625)],
                knots=[84, 84, 84, 84, 85, 85, 85, 85], degree=3))
            Line((17.205723307, -1098.222140625), (21.089379448, -1104.948818752))
            Line((21.089379448, -1104.948818752), (27.24318126, -1115.607384359))
            Line((27.24318126, -1115.607384359), (53.239699544, -1100.598309109))
            Line((53.239699544, -1100.598309109), (58.239566623, -1109.258590142))
            Line((58.239566623, -1109.258590142), (127.521642632, -1069.258576918))
            Line((127.521642632, -1069.258576918), (147.521627712, -1103.899571859))
            Line((147.521627712, -1103.899571859), (78.239551703, -1143.899628146))
            Line((78.239551703, -1143.899628146), (83.239591037, -1152.559823052))
            Line((83.239591037, -1152.559823052), (57.243245008, -1167.568898302))
            Line((57.243245008, -1167.568898302), (63.432359049, -1178.288829671))
            Line((63.432359049, -1178.288829671), (67.321699598, -1185.02567083))
            add(Edge.make_bspline(
                [(67.321699598, -1185.02567083), (70.427280924, -1166.593634833), (86.460066297, -1152.551339504), (105.775166395, -1152.551339504)],
                knots=[0, 0, 0, 0, 1, 1, 1, 1], degree=3))
            add(Edge.make_bspline(
                [(105.775166395, -1152.551339504), (110.274633355, -1152.551339504), (114.594955349, -1153.315763129), (118.61641531, -1154.71765861)],
                knots=[1, 1, 1, 1, 2, 2, 2, 2], degree=3))
        make_face()
        with Locations((65.451386675, -1169.708192825)):
            Circle(MODEL_R, mode=Mode.SUBTRACT)
        with Locations((29.494548276, -1107.429239443)):
            Circle(MODEL_R, mode=Mode.SUBTRACT)
        with Locations((169.760752604, -864.530547878)):
            Circle(MODEL_R, mode=Mode.SUBTRACT)
        with Locations((241.6743648, -864.530504815)):
            Circle(MODEL_R, mode=Mode.SUBTRACT)
        with Locations((382.116933599, -1107.429281733)):
            Circle(MODEL_R, mode=Mode.SUBTRACT)
        with Locations((346.16022151, -1169.708251653)):
            Circle(MODEL_R, mode=Mode.SUBTRACT)
    extrude(amount=BOSS_EXTRU_1_DEPTH)


solid = part.part
